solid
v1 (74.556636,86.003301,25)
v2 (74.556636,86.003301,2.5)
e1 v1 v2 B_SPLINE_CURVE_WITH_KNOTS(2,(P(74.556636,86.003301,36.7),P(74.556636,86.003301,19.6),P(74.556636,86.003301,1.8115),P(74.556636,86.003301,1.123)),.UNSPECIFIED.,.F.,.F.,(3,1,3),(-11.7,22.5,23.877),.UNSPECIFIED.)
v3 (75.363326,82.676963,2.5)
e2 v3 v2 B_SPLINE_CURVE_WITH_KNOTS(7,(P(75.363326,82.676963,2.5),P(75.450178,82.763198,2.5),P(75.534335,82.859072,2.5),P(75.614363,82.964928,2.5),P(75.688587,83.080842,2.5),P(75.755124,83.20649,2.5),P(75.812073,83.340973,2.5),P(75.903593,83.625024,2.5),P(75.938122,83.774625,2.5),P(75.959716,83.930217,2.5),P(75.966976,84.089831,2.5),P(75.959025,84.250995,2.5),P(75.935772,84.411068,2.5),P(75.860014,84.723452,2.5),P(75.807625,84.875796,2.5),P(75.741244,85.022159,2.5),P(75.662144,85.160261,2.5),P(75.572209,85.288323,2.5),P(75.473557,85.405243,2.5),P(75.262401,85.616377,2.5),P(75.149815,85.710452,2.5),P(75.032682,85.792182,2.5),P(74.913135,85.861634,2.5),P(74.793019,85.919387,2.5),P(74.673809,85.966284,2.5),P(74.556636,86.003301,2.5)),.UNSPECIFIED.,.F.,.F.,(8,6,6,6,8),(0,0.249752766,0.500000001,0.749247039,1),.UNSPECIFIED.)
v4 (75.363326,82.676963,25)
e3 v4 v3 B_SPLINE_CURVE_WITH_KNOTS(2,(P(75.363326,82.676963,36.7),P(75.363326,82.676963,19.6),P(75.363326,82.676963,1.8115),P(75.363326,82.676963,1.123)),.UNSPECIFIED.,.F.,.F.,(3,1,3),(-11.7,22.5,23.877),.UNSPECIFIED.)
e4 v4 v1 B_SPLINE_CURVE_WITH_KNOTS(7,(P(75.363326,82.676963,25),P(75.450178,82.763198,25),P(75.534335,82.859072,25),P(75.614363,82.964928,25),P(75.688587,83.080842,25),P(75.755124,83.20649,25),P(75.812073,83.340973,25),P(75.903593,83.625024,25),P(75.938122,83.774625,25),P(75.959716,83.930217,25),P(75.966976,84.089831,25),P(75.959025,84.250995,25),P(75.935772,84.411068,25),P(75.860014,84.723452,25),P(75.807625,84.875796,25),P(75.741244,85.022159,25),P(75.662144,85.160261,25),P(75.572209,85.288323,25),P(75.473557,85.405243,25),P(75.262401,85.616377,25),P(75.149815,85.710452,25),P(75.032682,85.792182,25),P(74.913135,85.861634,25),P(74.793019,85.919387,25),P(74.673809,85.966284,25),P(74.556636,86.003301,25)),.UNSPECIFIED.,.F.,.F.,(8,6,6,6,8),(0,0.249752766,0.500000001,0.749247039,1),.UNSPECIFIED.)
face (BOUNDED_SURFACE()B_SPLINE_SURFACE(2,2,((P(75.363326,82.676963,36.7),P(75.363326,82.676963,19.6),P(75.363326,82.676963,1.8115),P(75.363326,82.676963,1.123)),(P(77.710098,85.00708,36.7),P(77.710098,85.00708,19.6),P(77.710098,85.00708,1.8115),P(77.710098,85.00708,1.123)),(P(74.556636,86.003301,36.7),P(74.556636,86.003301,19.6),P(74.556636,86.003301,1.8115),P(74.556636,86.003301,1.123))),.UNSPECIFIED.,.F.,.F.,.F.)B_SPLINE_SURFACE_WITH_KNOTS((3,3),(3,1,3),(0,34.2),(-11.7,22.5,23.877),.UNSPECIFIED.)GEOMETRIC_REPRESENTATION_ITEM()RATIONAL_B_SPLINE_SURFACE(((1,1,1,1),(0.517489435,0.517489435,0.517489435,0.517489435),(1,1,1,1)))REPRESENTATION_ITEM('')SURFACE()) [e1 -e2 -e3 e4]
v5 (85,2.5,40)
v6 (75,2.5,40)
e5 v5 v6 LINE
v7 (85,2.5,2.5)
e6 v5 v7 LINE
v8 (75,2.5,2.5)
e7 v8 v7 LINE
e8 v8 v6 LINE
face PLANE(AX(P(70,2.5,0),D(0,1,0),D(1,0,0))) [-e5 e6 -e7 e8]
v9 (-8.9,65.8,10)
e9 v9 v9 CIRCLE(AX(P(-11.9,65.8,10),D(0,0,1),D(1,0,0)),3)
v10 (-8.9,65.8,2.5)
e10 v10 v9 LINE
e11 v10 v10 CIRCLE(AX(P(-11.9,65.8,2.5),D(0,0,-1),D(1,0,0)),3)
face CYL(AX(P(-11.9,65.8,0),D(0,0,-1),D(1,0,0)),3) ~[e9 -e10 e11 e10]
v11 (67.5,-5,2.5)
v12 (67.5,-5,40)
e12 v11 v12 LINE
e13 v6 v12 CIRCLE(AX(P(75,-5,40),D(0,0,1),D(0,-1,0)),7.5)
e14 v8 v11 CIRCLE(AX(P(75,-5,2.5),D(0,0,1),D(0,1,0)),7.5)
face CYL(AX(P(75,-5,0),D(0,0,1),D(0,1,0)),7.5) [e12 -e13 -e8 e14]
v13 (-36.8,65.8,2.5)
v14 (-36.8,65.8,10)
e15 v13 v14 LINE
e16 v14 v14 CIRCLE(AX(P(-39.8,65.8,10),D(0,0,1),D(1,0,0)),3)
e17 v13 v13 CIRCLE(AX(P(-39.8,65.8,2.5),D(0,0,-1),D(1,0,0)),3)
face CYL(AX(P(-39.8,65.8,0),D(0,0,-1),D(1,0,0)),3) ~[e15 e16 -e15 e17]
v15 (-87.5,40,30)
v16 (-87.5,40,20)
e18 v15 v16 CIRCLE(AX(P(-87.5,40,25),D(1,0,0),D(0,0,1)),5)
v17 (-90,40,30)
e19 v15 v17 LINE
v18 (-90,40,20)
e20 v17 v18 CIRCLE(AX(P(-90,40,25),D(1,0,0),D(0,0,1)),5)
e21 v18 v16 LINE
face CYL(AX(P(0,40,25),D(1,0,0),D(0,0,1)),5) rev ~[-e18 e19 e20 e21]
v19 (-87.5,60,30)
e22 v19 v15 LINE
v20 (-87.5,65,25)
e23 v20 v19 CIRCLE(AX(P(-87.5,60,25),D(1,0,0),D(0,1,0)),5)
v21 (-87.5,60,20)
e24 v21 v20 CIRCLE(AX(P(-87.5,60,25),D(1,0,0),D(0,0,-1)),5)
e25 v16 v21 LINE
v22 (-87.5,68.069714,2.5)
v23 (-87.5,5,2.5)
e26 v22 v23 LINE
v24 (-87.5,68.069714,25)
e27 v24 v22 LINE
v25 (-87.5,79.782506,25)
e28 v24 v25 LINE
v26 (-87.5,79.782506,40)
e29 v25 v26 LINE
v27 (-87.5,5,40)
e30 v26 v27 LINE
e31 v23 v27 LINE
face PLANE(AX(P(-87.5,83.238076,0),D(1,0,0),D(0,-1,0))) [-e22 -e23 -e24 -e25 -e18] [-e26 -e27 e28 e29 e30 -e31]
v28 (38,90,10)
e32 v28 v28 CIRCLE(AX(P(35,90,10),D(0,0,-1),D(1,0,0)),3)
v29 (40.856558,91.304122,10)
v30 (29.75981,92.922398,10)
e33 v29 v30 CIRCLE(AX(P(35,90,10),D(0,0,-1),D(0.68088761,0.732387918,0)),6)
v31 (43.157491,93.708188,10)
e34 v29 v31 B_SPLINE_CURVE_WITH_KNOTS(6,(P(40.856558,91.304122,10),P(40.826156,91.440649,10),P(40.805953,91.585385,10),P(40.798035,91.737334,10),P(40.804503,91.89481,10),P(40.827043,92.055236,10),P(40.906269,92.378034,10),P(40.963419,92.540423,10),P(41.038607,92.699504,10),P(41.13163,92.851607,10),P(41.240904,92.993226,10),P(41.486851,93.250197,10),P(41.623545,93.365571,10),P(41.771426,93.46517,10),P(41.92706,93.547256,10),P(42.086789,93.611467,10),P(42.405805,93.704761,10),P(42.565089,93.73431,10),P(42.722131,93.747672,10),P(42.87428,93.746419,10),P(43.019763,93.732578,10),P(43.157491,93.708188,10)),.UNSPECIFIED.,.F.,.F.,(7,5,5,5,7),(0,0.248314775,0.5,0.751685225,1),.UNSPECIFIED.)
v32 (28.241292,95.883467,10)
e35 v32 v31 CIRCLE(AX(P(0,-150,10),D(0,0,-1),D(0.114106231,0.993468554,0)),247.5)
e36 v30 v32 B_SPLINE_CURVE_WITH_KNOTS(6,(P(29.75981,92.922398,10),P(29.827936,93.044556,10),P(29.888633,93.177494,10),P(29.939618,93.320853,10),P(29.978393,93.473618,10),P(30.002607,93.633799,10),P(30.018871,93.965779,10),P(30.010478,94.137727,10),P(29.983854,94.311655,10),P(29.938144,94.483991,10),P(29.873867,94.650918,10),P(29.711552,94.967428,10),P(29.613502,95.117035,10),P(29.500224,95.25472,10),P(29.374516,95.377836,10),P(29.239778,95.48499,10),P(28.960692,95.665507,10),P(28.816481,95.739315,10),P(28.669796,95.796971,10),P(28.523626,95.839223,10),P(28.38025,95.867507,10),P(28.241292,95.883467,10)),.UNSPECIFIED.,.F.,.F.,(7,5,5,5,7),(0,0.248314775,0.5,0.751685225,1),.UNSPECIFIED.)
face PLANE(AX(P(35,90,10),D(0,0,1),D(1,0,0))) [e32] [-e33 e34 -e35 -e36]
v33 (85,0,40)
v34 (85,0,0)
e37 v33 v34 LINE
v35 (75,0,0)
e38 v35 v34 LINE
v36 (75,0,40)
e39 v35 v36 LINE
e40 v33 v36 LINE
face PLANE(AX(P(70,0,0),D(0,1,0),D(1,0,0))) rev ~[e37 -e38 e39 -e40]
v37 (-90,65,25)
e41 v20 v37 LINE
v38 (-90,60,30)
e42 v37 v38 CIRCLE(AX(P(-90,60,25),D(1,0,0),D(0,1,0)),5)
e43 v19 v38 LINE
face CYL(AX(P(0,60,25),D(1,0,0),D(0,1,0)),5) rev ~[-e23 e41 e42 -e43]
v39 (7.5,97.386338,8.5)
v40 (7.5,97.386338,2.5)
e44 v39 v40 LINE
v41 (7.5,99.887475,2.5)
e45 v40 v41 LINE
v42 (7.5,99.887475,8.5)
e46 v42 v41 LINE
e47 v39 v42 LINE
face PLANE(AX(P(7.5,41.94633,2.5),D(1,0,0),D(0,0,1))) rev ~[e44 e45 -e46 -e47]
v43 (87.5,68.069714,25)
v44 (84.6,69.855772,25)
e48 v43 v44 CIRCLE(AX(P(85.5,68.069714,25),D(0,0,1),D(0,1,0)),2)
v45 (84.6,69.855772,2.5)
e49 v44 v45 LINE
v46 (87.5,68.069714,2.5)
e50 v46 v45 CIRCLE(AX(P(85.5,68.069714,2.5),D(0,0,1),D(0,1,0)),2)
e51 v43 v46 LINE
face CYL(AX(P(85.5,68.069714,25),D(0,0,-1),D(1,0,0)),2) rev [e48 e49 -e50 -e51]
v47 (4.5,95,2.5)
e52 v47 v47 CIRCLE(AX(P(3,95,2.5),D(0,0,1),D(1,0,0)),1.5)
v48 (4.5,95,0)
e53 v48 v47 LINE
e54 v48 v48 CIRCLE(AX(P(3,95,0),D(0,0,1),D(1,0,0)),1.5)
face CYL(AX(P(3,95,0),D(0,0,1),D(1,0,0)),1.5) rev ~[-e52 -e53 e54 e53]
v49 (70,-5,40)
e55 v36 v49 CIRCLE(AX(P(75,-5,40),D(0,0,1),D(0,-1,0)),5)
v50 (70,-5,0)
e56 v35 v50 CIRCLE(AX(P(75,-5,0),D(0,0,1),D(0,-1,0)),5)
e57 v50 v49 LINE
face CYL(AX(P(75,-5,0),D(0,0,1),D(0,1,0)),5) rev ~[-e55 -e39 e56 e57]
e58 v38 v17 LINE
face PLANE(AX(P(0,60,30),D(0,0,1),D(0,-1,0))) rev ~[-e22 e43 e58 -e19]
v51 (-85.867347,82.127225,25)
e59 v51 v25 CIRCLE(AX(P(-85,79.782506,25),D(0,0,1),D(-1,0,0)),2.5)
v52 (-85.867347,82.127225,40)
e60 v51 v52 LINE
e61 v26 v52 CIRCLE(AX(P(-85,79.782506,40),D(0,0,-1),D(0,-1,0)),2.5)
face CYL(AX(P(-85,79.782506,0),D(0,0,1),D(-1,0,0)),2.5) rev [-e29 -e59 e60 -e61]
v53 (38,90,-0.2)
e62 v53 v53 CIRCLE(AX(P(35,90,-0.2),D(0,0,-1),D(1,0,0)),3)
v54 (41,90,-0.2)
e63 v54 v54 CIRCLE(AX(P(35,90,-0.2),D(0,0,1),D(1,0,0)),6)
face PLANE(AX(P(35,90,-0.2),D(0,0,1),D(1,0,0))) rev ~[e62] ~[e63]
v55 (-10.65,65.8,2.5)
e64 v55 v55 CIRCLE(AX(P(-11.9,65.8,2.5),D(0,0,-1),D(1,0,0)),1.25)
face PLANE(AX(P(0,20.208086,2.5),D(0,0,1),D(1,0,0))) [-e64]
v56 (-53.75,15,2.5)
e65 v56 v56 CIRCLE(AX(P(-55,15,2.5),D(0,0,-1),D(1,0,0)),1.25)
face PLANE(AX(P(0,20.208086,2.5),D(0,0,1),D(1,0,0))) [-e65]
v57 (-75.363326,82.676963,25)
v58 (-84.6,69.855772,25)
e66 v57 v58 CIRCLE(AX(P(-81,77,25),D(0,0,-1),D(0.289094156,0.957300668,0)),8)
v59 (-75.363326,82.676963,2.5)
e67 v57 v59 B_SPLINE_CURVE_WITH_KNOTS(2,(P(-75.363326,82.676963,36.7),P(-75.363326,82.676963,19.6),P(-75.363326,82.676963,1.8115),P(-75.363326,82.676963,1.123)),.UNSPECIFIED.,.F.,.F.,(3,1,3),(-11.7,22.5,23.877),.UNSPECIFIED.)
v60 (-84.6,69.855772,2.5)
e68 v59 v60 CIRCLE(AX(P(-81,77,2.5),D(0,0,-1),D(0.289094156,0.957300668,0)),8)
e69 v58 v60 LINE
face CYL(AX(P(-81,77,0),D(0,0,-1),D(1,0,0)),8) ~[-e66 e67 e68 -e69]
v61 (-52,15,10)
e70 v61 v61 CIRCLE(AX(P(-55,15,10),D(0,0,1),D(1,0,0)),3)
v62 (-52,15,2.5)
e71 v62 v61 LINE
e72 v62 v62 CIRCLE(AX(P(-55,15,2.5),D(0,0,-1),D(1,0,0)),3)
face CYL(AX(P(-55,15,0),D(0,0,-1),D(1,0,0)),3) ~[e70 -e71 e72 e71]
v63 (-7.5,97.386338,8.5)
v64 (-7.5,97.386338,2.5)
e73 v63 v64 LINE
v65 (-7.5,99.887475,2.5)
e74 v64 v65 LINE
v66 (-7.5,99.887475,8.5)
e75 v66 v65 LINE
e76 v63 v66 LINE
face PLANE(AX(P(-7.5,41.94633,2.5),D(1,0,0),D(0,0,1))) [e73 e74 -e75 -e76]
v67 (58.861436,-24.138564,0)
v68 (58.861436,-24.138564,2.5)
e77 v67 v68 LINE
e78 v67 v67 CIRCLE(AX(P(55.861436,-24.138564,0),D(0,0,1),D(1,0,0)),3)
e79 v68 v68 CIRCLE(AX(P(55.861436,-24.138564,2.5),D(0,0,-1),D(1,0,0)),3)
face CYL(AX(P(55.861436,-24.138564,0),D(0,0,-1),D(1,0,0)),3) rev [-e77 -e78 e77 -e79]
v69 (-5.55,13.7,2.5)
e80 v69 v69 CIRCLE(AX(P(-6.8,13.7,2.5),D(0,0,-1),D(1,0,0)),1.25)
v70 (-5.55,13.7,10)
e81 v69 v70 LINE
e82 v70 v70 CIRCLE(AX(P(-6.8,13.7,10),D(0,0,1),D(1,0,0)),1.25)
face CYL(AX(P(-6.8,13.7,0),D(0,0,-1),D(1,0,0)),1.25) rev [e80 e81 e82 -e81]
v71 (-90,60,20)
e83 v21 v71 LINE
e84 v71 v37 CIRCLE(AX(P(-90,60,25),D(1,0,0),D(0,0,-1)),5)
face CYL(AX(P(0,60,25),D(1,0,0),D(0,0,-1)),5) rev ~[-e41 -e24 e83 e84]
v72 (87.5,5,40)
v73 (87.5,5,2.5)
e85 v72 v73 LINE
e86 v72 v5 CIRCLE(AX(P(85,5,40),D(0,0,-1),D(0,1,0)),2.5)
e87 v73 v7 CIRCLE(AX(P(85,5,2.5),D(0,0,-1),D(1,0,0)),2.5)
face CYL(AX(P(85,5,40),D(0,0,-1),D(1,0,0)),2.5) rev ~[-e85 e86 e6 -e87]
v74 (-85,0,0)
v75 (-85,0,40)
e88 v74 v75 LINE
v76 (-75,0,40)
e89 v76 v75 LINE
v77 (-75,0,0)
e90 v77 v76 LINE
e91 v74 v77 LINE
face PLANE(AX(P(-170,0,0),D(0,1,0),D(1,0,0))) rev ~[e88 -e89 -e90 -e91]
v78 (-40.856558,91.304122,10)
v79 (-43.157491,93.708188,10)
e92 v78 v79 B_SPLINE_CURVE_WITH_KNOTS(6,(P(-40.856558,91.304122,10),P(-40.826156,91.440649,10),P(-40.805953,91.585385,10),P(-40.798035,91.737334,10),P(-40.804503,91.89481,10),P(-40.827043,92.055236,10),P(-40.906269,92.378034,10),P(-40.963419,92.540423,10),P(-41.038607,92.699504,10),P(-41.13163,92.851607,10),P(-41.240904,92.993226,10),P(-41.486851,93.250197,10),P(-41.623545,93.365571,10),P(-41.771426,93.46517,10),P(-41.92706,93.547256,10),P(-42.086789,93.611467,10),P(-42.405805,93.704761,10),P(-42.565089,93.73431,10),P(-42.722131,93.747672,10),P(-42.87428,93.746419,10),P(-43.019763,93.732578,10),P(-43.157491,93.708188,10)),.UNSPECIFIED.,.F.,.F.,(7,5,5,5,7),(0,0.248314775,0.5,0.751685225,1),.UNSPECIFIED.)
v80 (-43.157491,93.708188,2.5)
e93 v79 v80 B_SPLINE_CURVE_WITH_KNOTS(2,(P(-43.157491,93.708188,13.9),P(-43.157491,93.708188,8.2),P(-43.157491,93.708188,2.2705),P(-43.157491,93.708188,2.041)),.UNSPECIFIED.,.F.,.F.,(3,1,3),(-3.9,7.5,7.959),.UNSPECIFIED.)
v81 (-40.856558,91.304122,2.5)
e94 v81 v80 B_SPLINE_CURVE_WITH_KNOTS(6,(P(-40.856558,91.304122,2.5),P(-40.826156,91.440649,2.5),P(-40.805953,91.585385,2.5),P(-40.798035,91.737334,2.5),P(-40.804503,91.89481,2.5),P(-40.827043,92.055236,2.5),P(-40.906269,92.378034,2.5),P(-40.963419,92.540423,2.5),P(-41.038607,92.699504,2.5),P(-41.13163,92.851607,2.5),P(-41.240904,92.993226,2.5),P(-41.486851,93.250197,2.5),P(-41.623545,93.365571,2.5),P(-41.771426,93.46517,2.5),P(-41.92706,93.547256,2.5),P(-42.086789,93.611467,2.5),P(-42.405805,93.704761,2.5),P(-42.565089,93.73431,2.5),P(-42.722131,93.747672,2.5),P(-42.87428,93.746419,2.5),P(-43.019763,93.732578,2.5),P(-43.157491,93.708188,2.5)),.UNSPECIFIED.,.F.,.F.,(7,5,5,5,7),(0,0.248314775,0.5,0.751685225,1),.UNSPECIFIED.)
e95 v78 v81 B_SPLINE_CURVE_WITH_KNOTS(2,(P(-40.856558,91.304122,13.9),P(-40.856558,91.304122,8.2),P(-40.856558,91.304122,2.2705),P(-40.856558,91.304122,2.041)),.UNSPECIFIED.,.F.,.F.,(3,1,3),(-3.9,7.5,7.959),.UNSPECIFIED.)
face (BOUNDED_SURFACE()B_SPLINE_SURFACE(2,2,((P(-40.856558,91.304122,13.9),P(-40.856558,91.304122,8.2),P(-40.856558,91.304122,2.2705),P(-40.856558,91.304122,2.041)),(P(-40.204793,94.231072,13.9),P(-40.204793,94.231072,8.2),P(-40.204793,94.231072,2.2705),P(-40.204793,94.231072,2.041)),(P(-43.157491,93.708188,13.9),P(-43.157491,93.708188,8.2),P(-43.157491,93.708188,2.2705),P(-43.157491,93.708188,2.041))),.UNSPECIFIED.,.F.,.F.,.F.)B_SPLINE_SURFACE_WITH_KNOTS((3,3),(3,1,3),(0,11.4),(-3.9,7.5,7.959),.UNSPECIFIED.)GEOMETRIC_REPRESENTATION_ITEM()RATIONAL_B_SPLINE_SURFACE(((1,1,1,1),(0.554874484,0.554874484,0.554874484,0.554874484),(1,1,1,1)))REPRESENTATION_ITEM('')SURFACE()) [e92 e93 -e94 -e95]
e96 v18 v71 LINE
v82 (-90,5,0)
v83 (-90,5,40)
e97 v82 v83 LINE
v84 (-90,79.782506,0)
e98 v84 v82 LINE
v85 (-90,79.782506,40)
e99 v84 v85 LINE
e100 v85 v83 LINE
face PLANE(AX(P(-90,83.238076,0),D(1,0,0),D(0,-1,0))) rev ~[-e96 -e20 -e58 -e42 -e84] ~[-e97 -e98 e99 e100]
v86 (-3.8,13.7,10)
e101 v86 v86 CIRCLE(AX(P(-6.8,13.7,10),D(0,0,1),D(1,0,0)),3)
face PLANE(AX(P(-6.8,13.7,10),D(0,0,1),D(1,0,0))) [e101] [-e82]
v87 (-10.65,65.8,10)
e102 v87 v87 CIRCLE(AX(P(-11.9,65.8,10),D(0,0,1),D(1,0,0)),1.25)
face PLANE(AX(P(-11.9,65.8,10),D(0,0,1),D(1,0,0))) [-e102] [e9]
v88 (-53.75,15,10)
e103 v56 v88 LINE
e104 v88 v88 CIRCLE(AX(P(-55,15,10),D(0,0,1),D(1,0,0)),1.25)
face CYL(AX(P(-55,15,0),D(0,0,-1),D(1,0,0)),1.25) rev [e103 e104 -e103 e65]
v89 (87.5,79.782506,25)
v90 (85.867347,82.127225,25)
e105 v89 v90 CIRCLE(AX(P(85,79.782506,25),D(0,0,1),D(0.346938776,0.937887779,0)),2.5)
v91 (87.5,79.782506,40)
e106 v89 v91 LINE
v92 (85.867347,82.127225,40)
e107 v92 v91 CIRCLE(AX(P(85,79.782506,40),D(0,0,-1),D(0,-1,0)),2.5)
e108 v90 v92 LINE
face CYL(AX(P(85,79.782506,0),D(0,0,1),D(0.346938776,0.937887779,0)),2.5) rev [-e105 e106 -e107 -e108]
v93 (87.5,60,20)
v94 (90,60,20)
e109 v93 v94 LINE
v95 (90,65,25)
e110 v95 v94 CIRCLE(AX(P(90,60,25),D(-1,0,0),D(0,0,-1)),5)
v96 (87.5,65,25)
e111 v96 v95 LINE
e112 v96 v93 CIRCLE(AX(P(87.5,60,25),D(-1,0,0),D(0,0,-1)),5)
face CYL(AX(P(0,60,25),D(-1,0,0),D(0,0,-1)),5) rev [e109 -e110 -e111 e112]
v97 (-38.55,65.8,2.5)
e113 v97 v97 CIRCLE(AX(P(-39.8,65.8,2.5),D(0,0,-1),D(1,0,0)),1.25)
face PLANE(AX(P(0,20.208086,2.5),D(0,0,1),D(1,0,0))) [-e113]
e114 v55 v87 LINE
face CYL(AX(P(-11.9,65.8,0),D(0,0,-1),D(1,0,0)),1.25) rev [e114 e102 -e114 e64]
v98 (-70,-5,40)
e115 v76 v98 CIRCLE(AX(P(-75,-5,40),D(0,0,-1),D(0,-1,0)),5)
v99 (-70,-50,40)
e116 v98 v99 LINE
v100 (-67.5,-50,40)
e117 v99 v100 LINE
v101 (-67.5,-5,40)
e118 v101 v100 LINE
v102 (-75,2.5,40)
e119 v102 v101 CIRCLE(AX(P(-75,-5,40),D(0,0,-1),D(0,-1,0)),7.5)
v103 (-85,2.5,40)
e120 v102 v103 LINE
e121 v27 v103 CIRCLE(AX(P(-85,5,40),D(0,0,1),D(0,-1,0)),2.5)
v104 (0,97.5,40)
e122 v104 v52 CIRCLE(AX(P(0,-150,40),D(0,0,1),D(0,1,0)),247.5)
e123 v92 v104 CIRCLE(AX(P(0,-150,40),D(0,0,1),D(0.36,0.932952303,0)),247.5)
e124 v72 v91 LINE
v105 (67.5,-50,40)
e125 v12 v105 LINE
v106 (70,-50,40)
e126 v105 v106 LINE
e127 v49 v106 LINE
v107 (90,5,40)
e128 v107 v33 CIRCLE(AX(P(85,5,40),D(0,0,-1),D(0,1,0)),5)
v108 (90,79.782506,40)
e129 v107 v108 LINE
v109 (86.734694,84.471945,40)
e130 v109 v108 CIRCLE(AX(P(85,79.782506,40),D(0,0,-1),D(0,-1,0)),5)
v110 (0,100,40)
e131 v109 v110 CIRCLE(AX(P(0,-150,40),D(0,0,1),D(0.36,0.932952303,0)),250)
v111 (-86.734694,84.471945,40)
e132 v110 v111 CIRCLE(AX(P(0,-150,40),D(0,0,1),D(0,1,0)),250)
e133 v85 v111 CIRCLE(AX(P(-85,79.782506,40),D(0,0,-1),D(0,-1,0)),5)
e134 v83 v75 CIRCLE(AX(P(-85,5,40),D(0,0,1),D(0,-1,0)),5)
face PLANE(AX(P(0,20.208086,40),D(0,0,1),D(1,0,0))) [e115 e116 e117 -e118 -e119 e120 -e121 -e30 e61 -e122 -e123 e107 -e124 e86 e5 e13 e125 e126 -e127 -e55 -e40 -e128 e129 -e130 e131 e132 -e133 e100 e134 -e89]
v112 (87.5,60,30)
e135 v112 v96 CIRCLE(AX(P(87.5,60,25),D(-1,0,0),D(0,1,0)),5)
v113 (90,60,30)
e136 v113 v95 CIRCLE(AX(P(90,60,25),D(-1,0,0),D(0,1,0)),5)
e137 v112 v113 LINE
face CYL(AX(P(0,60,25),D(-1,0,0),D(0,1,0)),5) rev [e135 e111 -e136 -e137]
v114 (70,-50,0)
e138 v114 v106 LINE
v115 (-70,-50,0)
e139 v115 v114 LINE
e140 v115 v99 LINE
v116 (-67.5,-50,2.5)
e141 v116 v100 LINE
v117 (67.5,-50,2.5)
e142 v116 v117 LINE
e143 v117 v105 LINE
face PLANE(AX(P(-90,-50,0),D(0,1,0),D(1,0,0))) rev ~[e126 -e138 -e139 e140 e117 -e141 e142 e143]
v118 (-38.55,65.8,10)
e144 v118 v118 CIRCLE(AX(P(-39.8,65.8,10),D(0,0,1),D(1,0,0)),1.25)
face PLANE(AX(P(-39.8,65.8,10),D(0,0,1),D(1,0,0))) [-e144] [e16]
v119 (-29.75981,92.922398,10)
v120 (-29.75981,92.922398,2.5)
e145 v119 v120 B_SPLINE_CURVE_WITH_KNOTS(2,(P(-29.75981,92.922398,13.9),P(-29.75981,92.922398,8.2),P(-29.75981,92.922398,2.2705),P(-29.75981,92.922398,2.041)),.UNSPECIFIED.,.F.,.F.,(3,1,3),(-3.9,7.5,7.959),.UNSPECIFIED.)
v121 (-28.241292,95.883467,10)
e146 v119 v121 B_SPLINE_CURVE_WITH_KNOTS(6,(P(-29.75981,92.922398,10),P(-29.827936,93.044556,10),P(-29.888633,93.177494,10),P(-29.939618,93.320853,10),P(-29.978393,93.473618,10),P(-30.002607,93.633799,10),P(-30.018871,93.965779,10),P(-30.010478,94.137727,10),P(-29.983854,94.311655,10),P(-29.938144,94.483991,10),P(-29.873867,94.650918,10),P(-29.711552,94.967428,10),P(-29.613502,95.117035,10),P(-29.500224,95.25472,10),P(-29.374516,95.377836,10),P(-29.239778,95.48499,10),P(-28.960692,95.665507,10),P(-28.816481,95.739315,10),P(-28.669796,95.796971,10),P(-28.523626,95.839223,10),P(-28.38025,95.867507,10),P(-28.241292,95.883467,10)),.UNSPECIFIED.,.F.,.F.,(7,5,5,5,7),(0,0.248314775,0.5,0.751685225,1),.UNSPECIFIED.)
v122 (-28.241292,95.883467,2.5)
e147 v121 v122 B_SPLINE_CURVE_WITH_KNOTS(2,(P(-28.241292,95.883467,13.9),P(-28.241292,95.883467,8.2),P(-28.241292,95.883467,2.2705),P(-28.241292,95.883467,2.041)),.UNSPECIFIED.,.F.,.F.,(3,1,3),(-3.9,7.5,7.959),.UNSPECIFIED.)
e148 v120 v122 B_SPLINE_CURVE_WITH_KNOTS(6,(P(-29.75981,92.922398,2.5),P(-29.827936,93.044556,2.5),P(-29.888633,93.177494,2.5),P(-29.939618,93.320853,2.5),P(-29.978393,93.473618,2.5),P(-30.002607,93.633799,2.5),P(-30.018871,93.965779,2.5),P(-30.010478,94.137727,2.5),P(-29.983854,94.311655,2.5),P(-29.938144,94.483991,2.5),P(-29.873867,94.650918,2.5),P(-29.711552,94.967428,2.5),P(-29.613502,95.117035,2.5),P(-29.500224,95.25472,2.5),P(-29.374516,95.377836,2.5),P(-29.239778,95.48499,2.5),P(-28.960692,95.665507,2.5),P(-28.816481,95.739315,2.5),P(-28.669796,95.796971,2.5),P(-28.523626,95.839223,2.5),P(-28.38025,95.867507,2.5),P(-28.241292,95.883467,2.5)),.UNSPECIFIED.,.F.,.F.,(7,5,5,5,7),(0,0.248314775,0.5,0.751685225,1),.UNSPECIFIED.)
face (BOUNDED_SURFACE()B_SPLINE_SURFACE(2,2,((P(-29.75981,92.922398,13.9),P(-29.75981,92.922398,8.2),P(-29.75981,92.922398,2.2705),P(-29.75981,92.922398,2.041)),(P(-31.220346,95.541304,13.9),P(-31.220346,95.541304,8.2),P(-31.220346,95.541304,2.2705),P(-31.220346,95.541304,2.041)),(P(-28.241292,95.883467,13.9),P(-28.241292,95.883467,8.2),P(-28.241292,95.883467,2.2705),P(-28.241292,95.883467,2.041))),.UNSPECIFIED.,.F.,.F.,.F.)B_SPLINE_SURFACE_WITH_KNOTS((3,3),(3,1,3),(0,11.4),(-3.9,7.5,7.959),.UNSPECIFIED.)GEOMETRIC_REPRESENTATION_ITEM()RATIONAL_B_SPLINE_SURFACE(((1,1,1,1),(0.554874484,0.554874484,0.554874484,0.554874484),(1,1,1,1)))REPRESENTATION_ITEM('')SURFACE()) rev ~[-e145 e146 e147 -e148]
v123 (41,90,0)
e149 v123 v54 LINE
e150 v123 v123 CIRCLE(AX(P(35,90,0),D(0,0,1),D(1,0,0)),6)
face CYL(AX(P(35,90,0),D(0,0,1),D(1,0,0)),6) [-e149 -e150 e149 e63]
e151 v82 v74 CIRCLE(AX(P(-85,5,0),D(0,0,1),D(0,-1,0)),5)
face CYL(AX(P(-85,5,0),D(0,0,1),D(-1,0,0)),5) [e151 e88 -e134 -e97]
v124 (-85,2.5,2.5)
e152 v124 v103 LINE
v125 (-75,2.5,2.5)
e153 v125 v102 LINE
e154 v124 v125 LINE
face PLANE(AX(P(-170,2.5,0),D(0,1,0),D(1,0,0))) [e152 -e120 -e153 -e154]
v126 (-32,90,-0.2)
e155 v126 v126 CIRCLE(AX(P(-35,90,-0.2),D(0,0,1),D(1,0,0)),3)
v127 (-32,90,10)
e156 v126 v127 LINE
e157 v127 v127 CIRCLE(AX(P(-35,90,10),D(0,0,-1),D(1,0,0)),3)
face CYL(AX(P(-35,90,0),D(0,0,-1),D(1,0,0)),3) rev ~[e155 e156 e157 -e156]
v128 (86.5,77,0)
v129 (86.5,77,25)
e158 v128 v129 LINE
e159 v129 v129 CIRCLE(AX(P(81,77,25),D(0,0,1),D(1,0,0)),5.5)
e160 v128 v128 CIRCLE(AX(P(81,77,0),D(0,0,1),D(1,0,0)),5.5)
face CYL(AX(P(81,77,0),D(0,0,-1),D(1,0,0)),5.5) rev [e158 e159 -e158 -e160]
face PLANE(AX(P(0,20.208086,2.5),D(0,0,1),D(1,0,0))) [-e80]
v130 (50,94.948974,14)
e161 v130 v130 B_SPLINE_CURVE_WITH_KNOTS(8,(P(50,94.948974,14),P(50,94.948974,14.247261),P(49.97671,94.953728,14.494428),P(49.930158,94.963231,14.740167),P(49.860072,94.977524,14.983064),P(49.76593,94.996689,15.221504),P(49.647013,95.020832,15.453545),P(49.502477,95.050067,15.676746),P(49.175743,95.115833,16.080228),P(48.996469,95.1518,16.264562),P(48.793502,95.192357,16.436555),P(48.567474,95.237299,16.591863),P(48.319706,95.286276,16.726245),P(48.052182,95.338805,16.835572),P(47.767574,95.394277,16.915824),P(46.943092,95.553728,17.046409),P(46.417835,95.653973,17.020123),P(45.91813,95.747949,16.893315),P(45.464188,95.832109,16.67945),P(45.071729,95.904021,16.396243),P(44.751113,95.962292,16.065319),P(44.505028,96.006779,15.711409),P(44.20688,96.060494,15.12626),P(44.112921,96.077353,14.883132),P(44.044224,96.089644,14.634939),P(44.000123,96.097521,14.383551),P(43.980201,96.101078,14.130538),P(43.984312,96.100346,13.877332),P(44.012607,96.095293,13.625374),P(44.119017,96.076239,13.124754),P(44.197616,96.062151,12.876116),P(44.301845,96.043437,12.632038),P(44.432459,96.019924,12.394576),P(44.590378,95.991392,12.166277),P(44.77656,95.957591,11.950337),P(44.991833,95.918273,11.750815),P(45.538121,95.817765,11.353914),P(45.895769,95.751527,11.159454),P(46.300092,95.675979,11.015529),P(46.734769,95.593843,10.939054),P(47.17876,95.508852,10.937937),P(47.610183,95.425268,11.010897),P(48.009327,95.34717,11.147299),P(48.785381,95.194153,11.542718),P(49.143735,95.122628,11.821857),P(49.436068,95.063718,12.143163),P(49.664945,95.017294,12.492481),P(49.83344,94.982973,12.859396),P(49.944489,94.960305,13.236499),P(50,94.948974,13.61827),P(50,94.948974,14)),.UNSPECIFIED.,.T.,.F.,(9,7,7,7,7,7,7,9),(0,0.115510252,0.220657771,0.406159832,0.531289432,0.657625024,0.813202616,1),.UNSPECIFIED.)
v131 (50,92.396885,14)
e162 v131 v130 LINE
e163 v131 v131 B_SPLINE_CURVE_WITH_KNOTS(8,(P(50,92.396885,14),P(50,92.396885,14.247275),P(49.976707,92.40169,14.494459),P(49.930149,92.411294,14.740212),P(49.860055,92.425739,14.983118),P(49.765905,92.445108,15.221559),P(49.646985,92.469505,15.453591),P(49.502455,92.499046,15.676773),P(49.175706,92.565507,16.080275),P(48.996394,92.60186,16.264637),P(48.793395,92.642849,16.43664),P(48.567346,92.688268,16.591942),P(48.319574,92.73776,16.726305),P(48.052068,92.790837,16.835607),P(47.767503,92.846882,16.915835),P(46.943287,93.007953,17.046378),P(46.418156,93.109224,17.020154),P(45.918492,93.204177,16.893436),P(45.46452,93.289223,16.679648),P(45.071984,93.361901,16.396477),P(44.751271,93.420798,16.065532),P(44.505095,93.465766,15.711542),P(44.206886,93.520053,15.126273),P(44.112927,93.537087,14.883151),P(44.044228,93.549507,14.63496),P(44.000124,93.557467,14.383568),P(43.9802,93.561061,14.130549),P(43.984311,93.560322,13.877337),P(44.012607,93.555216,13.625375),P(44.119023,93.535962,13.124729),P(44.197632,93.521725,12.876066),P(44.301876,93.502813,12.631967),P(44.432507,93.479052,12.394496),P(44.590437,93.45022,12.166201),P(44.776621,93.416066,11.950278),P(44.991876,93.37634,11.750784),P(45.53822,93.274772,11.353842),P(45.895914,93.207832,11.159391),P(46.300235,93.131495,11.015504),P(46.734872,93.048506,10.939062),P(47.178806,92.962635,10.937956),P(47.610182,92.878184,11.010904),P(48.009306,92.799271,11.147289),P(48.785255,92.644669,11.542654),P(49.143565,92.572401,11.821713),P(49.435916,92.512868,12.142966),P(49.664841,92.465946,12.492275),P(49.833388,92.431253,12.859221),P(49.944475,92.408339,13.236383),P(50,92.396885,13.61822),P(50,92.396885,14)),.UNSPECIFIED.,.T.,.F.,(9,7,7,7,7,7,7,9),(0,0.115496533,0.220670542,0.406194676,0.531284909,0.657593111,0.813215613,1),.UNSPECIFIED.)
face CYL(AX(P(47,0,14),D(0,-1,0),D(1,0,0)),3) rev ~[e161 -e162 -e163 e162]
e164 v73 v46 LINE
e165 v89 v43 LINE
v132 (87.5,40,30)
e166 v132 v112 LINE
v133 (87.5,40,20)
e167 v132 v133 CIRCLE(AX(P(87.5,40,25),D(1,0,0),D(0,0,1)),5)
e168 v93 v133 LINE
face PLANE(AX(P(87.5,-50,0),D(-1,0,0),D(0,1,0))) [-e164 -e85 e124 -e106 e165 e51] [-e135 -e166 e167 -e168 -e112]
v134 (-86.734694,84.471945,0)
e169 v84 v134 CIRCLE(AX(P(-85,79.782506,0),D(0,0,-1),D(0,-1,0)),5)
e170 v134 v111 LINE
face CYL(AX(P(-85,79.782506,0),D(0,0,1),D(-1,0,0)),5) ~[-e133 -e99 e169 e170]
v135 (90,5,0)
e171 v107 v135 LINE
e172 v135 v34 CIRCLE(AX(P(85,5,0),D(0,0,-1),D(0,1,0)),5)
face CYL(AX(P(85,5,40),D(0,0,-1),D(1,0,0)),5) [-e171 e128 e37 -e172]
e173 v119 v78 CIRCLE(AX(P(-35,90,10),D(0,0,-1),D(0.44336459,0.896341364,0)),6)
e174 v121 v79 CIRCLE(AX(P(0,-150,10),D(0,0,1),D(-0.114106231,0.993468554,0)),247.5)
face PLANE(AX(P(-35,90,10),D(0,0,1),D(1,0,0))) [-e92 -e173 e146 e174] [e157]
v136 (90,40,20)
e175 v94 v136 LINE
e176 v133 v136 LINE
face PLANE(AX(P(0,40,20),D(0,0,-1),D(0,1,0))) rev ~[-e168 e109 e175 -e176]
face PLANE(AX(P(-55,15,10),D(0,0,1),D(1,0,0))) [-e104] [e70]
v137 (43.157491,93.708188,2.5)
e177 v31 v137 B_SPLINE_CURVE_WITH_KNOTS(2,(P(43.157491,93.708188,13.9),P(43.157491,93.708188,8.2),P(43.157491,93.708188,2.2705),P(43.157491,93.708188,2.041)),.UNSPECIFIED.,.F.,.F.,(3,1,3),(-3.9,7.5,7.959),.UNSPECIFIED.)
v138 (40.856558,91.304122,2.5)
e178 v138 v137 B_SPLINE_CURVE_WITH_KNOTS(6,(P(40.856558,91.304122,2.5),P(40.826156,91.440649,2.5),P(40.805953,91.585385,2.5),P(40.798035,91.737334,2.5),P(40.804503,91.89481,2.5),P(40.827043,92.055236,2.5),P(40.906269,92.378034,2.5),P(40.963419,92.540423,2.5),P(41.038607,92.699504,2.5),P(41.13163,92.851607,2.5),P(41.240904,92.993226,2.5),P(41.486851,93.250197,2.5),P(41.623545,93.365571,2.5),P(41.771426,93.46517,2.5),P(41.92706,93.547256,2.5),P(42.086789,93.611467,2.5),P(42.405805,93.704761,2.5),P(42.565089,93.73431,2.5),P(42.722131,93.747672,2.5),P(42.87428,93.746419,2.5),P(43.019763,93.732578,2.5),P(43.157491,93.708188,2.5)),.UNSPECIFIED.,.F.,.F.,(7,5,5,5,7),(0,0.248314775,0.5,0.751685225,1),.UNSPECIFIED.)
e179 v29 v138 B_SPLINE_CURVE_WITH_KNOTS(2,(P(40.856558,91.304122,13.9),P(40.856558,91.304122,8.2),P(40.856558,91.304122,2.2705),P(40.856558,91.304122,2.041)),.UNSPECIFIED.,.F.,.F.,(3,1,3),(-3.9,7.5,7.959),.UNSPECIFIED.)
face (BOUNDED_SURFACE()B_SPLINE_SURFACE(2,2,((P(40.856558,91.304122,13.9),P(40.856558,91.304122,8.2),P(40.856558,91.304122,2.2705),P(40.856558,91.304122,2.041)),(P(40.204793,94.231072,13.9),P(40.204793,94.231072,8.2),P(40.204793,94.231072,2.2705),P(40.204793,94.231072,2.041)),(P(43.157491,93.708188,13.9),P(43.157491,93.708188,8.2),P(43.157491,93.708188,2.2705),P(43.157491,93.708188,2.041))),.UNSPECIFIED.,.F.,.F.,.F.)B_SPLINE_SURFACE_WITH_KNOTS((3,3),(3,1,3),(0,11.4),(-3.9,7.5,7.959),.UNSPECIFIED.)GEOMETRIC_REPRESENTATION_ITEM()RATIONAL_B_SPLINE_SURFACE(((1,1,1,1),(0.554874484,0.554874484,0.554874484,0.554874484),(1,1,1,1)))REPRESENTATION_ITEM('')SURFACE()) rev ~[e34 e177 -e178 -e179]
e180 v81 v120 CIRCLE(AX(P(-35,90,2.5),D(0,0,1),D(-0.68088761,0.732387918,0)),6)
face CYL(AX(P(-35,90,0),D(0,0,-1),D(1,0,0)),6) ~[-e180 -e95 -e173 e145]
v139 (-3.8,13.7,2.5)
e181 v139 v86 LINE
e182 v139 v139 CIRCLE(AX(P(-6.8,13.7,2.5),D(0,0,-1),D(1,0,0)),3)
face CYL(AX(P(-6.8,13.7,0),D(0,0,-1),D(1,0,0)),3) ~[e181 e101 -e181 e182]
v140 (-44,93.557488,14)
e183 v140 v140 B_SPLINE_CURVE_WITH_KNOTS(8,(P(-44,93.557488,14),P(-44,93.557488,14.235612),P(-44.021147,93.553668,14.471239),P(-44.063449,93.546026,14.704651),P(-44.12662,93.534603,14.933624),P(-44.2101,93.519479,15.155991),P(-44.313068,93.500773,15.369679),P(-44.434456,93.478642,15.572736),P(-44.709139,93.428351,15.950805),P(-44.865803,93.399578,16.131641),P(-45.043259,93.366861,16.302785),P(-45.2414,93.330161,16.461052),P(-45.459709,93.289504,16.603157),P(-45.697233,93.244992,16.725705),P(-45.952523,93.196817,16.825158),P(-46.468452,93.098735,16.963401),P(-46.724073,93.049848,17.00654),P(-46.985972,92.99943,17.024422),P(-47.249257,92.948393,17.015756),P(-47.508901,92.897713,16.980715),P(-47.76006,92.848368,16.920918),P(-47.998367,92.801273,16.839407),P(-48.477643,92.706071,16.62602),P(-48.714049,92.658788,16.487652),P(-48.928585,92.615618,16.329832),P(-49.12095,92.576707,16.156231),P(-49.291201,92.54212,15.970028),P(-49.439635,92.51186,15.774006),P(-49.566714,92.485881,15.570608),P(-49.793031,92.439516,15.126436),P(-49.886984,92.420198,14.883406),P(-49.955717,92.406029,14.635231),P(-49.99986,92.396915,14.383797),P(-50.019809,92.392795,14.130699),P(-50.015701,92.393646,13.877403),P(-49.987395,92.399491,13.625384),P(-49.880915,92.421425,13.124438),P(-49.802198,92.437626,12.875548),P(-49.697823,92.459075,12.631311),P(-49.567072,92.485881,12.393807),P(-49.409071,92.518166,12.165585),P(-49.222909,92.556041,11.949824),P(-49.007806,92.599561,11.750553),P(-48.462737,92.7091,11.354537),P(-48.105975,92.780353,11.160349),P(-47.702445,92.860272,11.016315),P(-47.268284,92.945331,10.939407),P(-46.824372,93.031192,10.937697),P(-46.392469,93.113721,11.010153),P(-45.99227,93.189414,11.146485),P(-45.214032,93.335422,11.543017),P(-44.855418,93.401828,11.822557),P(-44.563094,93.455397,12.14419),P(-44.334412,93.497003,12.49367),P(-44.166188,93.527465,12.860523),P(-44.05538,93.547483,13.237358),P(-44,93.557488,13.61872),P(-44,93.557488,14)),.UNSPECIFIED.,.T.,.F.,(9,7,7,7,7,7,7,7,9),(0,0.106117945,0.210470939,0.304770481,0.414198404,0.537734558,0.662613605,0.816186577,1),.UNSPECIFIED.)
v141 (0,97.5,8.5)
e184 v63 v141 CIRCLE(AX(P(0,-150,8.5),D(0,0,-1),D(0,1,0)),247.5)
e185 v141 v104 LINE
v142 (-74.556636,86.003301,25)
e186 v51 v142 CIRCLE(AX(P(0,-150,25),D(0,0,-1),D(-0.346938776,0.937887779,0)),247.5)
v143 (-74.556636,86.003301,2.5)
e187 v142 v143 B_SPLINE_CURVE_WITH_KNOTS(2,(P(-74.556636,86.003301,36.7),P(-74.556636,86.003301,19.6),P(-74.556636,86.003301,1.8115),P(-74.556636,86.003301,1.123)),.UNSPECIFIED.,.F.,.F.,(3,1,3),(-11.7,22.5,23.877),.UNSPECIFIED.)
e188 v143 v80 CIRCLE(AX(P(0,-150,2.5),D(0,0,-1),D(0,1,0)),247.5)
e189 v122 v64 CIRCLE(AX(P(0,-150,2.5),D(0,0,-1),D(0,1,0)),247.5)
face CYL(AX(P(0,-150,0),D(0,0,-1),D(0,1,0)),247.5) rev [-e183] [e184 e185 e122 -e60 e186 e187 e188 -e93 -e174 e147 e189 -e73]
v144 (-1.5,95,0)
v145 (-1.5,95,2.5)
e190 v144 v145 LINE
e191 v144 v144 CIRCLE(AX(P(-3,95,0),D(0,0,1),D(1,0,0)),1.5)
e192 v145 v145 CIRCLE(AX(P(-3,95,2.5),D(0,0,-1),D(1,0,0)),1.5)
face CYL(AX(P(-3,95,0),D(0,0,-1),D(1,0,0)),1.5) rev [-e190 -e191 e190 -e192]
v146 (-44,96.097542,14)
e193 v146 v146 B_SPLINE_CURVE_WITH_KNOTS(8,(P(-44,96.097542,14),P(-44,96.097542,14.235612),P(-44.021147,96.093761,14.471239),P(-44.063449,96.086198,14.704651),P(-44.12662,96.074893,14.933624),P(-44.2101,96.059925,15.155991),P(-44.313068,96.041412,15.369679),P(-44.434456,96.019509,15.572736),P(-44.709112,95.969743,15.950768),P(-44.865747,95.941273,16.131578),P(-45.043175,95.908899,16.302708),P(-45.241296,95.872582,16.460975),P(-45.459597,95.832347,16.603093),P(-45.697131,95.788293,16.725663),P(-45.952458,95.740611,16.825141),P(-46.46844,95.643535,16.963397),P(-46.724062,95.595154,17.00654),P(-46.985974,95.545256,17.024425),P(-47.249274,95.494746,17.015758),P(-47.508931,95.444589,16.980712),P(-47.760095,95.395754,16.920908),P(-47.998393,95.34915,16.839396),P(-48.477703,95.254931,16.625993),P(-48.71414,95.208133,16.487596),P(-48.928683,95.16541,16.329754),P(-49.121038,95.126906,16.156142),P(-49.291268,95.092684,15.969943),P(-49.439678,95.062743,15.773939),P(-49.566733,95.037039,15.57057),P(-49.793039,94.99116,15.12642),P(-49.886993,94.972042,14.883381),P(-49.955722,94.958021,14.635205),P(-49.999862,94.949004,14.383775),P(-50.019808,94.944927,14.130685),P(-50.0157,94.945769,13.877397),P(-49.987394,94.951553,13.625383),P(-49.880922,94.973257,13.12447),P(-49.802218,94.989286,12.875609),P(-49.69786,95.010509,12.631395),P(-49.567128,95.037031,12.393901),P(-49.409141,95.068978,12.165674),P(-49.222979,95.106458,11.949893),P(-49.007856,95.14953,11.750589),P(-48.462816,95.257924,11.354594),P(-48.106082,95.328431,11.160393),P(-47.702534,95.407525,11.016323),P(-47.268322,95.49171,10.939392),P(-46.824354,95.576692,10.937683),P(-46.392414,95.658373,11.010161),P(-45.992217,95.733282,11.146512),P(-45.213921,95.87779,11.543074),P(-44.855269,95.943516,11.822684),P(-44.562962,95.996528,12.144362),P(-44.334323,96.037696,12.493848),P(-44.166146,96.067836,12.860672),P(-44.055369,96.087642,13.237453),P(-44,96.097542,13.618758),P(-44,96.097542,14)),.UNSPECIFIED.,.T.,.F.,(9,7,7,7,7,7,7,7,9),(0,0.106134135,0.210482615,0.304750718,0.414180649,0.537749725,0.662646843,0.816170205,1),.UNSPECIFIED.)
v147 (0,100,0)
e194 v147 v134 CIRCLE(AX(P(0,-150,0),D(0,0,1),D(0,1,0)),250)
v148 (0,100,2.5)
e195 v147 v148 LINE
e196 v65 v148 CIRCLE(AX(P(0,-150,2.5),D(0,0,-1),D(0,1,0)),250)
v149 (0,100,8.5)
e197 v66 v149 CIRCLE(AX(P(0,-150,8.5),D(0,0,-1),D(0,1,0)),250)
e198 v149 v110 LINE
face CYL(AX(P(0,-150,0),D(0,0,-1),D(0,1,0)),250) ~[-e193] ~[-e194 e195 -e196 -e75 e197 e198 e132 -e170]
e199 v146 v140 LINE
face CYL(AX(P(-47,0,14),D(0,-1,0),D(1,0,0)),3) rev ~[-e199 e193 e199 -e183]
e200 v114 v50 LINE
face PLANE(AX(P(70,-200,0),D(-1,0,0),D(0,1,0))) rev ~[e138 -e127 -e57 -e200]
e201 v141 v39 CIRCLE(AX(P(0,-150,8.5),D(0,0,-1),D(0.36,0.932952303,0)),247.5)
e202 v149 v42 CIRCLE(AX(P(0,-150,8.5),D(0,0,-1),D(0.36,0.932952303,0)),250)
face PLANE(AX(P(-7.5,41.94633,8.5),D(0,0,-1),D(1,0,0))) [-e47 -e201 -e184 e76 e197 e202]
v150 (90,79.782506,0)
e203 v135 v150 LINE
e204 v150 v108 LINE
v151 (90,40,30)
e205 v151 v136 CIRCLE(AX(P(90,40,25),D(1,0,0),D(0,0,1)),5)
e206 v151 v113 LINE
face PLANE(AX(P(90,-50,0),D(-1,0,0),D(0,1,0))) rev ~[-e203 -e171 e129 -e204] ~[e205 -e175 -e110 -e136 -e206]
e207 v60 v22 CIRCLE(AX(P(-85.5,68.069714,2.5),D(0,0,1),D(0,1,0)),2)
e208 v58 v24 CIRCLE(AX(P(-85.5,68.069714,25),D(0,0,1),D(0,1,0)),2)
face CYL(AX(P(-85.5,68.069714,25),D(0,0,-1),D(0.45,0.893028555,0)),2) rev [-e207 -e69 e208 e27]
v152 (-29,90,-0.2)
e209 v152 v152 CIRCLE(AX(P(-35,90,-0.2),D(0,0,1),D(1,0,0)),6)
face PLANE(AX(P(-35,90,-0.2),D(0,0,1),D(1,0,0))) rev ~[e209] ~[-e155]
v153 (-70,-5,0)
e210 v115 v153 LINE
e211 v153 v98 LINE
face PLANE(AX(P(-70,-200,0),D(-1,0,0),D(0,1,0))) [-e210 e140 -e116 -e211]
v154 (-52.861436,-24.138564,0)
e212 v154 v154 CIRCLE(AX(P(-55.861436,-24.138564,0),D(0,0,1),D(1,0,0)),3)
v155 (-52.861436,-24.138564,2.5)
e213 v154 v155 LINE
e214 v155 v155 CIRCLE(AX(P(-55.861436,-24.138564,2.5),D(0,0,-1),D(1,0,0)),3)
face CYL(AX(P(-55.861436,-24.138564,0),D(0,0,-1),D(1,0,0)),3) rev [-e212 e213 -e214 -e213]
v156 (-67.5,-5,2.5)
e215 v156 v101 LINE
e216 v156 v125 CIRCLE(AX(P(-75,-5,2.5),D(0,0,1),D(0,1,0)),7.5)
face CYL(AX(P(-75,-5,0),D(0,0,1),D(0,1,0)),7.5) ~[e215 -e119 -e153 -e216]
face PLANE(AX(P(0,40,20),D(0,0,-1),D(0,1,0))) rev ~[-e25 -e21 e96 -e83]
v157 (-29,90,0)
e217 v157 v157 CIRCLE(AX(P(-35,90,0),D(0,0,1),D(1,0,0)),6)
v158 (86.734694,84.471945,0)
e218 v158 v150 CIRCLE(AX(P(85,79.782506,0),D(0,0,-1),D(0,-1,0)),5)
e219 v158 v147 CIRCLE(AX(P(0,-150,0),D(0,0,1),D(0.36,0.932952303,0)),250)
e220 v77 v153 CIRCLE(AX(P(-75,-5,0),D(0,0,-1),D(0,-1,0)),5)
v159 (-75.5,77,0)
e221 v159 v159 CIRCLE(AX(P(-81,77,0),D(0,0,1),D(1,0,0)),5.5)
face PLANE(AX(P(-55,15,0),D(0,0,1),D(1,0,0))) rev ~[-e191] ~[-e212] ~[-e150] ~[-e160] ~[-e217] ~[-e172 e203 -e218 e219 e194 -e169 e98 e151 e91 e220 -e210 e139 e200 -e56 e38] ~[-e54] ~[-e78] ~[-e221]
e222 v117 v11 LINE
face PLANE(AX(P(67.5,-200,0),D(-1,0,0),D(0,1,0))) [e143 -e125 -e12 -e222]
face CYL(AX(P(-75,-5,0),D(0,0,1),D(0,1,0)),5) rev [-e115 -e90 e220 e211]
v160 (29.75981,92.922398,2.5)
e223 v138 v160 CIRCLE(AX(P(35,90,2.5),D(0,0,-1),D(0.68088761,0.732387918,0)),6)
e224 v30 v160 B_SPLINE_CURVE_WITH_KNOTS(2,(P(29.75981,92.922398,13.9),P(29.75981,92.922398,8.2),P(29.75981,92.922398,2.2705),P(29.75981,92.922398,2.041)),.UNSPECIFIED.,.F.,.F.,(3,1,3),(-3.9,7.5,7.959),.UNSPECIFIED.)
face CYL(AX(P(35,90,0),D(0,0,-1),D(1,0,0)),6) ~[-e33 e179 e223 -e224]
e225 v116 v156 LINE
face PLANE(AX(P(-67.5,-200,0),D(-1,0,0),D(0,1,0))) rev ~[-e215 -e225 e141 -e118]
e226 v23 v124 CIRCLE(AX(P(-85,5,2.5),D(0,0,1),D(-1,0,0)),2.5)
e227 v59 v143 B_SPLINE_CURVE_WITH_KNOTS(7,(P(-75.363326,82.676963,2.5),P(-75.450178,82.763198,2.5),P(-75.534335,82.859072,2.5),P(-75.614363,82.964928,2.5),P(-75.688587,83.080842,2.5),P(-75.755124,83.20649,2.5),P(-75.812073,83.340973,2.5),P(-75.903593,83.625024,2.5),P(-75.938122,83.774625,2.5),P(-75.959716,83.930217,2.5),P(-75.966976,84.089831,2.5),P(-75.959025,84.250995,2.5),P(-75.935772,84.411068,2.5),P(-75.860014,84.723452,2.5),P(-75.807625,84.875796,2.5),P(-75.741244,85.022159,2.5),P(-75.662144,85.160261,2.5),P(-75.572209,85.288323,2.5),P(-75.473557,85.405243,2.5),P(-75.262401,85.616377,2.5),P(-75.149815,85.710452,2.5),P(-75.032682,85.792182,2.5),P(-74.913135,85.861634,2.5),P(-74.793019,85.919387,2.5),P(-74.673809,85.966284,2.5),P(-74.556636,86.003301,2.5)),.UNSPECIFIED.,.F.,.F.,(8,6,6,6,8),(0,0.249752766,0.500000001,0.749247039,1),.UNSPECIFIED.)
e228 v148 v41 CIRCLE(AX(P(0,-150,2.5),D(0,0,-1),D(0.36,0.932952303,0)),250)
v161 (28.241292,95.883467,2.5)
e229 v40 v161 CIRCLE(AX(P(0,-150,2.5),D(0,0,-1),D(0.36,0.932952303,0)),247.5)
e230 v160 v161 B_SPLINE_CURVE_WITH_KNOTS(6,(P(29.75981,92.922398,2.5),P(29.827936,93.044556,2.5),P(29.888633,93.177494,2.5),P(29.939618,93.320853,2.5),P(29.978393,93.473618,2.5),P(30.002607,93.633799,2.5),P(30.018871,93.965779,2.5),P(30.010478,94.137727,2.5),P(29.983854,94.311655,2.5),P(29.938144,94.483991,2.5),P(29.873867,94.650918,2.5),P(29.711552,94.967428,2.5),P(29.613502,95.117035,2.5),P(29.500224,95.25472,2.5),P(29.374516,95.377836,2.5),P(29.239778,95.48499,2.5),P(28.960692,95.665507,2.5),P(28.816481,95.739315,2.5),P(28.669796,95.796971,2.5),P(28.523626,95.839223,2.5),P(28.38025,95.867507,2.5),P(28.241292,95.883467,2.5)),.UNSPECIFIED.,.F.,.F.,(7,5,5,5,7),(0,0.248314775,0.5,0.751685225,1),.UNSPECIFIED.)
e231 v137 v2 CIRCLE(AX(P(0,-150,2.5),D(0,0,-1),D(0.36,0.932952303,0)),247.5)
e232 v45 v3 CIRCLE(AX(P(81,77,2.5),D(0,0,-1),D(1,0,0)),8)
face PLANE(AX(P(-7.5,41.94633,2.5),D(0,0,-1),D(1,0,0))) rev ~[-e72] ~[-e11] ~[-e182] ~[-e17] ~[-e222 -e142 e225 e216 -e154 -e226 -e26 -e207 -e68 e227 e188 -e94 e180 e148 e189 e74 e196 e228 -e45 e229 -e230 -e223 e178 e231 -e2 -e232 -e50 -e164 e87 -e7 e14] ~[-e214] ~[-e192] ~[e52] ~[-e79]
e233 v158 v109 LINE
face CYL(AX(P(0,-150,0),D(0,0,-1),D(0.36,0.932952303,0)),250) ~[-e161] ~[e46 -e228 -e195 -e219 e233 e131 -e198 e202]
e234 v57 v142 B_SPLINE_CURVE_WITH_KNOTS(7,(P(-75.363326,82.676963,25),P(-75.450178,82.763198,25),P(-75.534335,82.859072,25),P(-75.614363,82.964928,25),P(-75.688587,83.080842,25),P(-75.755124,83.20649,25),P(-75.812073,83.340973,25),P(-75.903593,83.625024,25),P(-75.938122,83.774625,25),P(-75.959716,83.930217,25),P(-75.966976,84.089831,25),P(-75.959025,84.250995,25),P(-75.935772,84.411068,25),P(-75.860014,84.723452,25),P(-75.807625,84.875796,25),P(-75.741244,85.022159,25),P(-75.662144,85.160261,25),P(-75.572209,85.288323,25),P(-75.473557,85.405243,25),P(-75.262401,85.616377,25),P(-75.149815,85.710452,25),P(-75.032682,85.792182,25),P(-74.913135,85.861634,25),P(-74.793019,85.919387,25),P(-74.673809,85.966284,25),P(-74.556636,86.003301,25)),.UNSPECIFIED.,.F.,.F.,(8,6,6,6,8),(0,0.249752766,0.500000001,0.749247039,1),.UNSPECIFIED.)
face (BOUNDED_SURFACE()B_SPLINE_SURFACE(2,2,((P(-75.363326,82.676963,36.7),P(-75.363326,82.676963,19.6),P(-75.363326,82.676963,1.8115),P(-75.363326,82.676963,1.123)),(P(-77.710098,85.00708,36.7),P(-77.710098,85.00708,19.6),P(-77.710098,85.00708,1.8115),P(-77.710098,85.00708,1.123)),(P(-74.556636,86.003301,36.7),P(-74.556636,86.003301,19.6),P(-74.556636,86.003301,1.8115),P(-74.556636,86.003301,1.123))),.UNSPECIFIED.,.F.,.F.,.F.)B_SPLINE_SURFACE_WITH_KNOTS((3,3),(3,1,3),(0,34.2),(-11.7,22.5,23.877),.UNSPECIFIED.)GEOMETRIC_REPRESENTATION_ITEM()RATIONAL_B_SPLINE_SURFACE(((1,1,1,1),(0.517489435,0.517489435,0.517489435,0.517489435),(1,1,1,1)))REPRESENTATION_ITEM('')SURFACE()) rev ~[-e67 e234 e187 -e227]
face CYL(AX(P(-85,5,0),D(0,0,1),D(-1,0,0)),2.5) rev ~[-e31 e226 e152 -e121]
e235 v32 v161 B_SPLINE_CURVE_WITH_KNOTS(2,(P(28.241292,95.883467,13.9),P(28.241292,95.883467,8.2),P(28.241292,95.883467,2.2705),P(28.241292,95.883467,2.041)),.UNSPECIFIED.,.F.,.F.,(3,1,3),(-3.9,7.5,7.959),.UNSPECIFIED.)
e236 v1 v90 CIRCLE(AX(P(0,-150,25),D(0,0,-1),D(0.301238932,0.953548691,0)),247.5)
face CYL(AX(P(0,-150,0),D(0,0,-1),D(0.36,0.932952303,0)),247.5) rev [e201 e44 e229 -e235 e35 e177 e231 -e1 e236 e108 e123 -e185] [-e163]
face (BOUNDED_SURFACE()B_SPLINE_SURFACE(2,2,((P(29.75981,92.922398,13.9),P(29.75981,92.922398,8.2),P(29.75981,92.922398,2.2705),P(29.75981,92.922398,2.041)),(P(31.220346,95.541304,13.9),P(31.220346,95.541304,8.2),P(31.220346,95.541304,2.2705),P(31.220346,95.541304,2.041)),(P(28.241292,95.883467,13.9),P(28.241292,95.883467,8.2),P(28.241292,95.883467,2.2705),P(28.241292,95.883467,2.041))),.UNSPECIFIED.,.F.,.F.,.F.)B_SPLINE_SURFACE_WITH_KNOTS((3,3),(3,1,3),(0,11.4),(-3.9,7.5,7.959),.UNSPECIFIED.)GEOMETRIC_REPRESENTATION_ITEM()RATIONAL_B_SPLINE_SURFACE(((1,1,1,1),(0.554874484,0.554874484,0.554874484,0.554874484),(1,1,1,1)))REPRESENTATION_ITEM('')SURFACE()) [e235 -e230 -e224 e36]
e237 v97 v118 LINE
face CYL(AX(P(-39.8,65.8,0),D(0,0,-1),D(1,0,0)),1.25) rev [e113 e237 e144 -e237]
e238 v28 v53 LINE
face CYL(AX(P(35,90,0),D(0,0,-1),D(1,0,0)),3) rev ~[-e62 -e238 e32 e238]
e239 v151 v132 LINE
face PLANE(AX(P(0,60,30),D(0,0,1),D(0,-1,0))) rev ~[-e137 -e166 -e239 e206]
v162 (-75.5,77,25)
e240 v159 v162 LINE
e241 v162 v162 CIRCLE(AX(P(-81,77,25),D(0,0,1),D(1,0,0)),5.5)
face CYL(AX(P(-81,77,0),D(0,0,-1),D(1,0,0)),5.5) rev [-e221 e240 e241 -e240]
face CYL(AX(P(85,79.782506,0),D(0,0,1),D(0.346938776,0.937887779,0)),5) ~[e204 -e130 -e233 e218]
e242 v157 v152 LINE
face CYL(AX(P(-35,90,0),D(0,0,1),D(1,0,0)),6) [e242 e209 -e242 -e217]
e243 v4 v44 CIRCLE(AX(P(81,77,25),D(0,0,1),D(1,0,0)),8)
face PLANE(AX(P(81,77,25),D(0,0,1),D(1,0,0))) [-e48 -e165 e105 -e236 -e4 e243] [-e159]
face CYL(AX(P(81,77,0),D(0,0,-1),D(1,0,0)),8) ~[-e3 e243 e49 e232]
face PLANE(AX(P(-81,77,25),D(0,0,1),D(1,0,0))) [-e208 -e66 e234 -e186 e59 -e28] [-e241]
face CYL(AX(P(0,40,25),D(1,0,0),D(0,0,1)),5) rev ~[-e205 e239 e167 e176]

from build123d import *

# Parameters (mm, degrees)
F1_DEPTH       = 40
F2_W           = 100
F2_H           = 200
F3_DEPTH       = 100
F4_R           = 5
F5_T           = -2.5
F6_R           = 3
F7_DEPTH       = 25
F8_R           = 8
F9_DEPTH       = 25
F10_R          = 5.5
F11_DEPTH      = 25
F12_R          = 3
F12_R_2        = 1.25
F13_DEPTH      = 10
F14_R          = 3
F15_DEPTH      = 150
F17_START      = -41.94633
F16_W          = 15
F16_H          = 6
F17_DEPTH      = 208.05367
F18_R          = 1.5
F19_DEPTH      = 12.5
F20_R          = 6
F21_DEPTH      = 0.2
F21_DEPTH_BACK = 10
F22_R          = 3
F23_DEPTH      = 12.5
F24_R          = 2
F26_DEPTH      = 150


with BuildPart() as f1:
    # F0 (on Top) → F1 (new body)
    with BuildSketch(Plane.XY):
        with BuildLine():
            Line((-90, 83.2380757938), (-90, -50))
            Line((-90, -50), (90, -50))
            Line((90, -50), (90, 83.2380757938))
            ThreePointArc((90, 83.2380757938), (45.7737973711, 95.7737973711), (0, 100))
            ThreePointArc((0, 100), (-45.7737973711, 95.7737973711), (-90, 83.2380757938))
        make_face()
    extrude(amount=F1_DEPTH)

    # F2 (on Top) → F3 (cut)
    with BuildSketch(Plane.XY):
        with Locations((-120, -100)):
            Rectangle(F2_W, F2_H)
        with Locations((120, -100)):
            Rectangle(F2_W, F2_H)
    extrude(amount=F3_DEPTH, mode=Mode.SUBTRACT)

    # F4
    f4_edges = [f1.edges().sort_by_distance(p)[0] for p in [
        (-90, 83.238076, 20),
        (90, 83.238076, 20),
        (90, 0, 20),
        (70, 0, 20),
        (-90, 0, 20),
        (-70, 0, 20),
    ]]
    fillet(f4_edges, radius=F4_R)

    # F5
    f5_openings = [f1.faces().sort_by_distance(p)[0] for p in [
        (0, 26.262097, 40),
        (0, -50, 20),
    ]]
    offset(amount=F5_T, openings=f5_openings)

    # F6 (on Top) → F7 (cut)
    with BuildSketch(Plane.XY):
        with Locations((-55.8614357137, -24.1385642863)):
            Circle(F6_R)
        with Locations((55.8614357137, -24.1385642863)):
            Circle(F6_R)
    extrude(amount=F7_DEPTH, mode=Mode.SUBTRACT)

    # F8 (on Top) → F9 (join)
    with BuildSketch(Plane.XY):
        with Locations((-81, 77)):
            Circle(F8_R)
        with Locations((81, 77)):
            Circle(F8_R)
    extrude(amount=F9_DEPTH)

    # F10 (on Top) → F11 (cut)
    with BuildSketch(Plane.XY):
        with Locations((-81, 77)):
            Circle(F10_R)
        with Locations((81, 77)):
            Circle(F10_R)
    extrude(amount=F11_DEPTH, mode=Mode.SUBTRACT)

    # F12 (on Top) → F13 (join)
    with BuildSketch(Plane.XY):
        with Locations((-55, 15)):
            Circle(F12_R)
        with Locations((-55, 15)):
            Circle(F12_R_2, mode=Mode.SUBTRACT)
        with Locations((-39.8, 65.8)):
            Circle(F12_R)
        with Locations((-39.8, 65.8)):
            Circle(F12_R_2, mode=Mode.SUBTRACT)
        with Locations((-11.9, 65.8)):
            Circle(F12_R)
        with Locations((-11.9, 65.8)):
            Circle(F12_R_2, mode=Mode.SUBTRACT)
        with Locations((-6.8, 13.7)):
            Circle(F12_R)
        with Locations((-6.8, 13.7)):
            Circle(F12_R_2, mode=Mode.SUBTRACT)
    extrude(amount=F13_DEPTH)

    # F14 (on Front) → F15 (cut, symmetric)
    with BuildSketch(Plane.XZ):
        with Locations((47, 14)):
            Circle(F14_R)
        with Locations((-47, 14)):
            Circle(F14_R)
    extrude(amount=F15_DEPTH, both=True, mode=Mode.SUBTRACT)

    # F16 (on Front) → F17 (cut)
    with BuildSketch(Plane.XZ.offset(F17_START)):
        with Locations((0, 5.5)):
            Rectangle(F16_W, F16_H)
    extrude(amount=-F17_DEPTH, mode=Mode.SUBTRACT)

    # F18 (on Top) → F19 (cut, symmetric)
    with BuildSketch(Plane.XY):
        with Locations((-3, 95)):
            Circle(F18_R)
        with Locations((3, 95)):
            Circle(F18_R)
    extrude(amount=F19_DEPTH, both=True, mode=Mode.SUBTRACT)

    # F20 (on Top) → F21 (join, two sides)
    with BuildSketch(Plane.XY) as f21_sk:
        with Locations((-35, 90)):
            Circle(F20_R)
        with Locations((35, 90)):
            Circle(F20_R)
    extrude(amount=-F21_DEPTH)
    extrude(f21_sk.sketch, amount=F21_DEPTH_BACK)

    # F22 (on face) → F23 (cut, symmetric)
    with BuildSketch(Plane(origin=(0, 0, 0), x_dir=(1, 0, 0), z_dir=(0, 0, -1))):
        with Locations((-35, -90)):
            Circle(F22_R)
        with Locations((35, -90)):
            Circle(F22_R)
    extrude(amount=F23_DEPTH, both=True, mode=Mode.SUBTRACT)

    # F24
    f24_edges = [f1.edges().sort_by_distance(p)[0] for p in [
        (-87.5, 72.33631, 13.75),
        (-78.687247, 84.658405, 13.75),
        (-32.339812, 95.378048, 6.25),
        (-39.085326, 94.394328, 6.25),
        (39.085326, 94.394328, 6.25),
        (32.339812, 95.378048, 6.25),
        (78.687247, 84.658405, 13.75),
        (87.5, 72.33631, 13.75),
    ]]
    fillet(f24_edges, radius=F24_R)

    # F25 (on Right) → F26 (cut, symmetric)
    with BuildSketch(Plane.YZ):
        with BuildLine():
            Line((40, 20), (40, 30))
            ThreePointArc((40, 30), (35, 25), (40, 20))
        make_face()
        with BuildLine():
            ThreePointArc((65, 25), (63.5355339059, 28.5355339059), (60, 30))
            Line((60, 30), (60, 20))
            ThreePointArc((60, 20), (63.5355339059, 21.4644660941), (65, 25))
        make_face()
        with BuildLine():
            Line((60, 30), (40, 30))
            ThreePointArc((40, 30), (43.5355339059, 28.5355339059), (45, 25))
            ThreePointArc((45, 25), (43.5355339059, 21.4644660941), (40, 20))
            Line((40, 20), (60, 20))
            ThreePointArc((60, 20), (55, 25), (60, 30))
        make_face()
        with BuildLine():
            ThreePointArc((45, 25), (43.5355339059, 28.5355339059), (40, 30))
            Line((40, 30), (40, 20))
            ThreePointArc((40, 20), (43.5355339059, 21.4644660941), (45, 25))
        make_face()
        with BuildLine():
            Line((60, 20), (60, 30))
            ThreePointArc((60, 30), (55, 25), (60, 20))
        make_face()
    extrude(amount=F26_DEPTH, both=True, mode=Mode.SUBTRACT)


solid = f1.part
